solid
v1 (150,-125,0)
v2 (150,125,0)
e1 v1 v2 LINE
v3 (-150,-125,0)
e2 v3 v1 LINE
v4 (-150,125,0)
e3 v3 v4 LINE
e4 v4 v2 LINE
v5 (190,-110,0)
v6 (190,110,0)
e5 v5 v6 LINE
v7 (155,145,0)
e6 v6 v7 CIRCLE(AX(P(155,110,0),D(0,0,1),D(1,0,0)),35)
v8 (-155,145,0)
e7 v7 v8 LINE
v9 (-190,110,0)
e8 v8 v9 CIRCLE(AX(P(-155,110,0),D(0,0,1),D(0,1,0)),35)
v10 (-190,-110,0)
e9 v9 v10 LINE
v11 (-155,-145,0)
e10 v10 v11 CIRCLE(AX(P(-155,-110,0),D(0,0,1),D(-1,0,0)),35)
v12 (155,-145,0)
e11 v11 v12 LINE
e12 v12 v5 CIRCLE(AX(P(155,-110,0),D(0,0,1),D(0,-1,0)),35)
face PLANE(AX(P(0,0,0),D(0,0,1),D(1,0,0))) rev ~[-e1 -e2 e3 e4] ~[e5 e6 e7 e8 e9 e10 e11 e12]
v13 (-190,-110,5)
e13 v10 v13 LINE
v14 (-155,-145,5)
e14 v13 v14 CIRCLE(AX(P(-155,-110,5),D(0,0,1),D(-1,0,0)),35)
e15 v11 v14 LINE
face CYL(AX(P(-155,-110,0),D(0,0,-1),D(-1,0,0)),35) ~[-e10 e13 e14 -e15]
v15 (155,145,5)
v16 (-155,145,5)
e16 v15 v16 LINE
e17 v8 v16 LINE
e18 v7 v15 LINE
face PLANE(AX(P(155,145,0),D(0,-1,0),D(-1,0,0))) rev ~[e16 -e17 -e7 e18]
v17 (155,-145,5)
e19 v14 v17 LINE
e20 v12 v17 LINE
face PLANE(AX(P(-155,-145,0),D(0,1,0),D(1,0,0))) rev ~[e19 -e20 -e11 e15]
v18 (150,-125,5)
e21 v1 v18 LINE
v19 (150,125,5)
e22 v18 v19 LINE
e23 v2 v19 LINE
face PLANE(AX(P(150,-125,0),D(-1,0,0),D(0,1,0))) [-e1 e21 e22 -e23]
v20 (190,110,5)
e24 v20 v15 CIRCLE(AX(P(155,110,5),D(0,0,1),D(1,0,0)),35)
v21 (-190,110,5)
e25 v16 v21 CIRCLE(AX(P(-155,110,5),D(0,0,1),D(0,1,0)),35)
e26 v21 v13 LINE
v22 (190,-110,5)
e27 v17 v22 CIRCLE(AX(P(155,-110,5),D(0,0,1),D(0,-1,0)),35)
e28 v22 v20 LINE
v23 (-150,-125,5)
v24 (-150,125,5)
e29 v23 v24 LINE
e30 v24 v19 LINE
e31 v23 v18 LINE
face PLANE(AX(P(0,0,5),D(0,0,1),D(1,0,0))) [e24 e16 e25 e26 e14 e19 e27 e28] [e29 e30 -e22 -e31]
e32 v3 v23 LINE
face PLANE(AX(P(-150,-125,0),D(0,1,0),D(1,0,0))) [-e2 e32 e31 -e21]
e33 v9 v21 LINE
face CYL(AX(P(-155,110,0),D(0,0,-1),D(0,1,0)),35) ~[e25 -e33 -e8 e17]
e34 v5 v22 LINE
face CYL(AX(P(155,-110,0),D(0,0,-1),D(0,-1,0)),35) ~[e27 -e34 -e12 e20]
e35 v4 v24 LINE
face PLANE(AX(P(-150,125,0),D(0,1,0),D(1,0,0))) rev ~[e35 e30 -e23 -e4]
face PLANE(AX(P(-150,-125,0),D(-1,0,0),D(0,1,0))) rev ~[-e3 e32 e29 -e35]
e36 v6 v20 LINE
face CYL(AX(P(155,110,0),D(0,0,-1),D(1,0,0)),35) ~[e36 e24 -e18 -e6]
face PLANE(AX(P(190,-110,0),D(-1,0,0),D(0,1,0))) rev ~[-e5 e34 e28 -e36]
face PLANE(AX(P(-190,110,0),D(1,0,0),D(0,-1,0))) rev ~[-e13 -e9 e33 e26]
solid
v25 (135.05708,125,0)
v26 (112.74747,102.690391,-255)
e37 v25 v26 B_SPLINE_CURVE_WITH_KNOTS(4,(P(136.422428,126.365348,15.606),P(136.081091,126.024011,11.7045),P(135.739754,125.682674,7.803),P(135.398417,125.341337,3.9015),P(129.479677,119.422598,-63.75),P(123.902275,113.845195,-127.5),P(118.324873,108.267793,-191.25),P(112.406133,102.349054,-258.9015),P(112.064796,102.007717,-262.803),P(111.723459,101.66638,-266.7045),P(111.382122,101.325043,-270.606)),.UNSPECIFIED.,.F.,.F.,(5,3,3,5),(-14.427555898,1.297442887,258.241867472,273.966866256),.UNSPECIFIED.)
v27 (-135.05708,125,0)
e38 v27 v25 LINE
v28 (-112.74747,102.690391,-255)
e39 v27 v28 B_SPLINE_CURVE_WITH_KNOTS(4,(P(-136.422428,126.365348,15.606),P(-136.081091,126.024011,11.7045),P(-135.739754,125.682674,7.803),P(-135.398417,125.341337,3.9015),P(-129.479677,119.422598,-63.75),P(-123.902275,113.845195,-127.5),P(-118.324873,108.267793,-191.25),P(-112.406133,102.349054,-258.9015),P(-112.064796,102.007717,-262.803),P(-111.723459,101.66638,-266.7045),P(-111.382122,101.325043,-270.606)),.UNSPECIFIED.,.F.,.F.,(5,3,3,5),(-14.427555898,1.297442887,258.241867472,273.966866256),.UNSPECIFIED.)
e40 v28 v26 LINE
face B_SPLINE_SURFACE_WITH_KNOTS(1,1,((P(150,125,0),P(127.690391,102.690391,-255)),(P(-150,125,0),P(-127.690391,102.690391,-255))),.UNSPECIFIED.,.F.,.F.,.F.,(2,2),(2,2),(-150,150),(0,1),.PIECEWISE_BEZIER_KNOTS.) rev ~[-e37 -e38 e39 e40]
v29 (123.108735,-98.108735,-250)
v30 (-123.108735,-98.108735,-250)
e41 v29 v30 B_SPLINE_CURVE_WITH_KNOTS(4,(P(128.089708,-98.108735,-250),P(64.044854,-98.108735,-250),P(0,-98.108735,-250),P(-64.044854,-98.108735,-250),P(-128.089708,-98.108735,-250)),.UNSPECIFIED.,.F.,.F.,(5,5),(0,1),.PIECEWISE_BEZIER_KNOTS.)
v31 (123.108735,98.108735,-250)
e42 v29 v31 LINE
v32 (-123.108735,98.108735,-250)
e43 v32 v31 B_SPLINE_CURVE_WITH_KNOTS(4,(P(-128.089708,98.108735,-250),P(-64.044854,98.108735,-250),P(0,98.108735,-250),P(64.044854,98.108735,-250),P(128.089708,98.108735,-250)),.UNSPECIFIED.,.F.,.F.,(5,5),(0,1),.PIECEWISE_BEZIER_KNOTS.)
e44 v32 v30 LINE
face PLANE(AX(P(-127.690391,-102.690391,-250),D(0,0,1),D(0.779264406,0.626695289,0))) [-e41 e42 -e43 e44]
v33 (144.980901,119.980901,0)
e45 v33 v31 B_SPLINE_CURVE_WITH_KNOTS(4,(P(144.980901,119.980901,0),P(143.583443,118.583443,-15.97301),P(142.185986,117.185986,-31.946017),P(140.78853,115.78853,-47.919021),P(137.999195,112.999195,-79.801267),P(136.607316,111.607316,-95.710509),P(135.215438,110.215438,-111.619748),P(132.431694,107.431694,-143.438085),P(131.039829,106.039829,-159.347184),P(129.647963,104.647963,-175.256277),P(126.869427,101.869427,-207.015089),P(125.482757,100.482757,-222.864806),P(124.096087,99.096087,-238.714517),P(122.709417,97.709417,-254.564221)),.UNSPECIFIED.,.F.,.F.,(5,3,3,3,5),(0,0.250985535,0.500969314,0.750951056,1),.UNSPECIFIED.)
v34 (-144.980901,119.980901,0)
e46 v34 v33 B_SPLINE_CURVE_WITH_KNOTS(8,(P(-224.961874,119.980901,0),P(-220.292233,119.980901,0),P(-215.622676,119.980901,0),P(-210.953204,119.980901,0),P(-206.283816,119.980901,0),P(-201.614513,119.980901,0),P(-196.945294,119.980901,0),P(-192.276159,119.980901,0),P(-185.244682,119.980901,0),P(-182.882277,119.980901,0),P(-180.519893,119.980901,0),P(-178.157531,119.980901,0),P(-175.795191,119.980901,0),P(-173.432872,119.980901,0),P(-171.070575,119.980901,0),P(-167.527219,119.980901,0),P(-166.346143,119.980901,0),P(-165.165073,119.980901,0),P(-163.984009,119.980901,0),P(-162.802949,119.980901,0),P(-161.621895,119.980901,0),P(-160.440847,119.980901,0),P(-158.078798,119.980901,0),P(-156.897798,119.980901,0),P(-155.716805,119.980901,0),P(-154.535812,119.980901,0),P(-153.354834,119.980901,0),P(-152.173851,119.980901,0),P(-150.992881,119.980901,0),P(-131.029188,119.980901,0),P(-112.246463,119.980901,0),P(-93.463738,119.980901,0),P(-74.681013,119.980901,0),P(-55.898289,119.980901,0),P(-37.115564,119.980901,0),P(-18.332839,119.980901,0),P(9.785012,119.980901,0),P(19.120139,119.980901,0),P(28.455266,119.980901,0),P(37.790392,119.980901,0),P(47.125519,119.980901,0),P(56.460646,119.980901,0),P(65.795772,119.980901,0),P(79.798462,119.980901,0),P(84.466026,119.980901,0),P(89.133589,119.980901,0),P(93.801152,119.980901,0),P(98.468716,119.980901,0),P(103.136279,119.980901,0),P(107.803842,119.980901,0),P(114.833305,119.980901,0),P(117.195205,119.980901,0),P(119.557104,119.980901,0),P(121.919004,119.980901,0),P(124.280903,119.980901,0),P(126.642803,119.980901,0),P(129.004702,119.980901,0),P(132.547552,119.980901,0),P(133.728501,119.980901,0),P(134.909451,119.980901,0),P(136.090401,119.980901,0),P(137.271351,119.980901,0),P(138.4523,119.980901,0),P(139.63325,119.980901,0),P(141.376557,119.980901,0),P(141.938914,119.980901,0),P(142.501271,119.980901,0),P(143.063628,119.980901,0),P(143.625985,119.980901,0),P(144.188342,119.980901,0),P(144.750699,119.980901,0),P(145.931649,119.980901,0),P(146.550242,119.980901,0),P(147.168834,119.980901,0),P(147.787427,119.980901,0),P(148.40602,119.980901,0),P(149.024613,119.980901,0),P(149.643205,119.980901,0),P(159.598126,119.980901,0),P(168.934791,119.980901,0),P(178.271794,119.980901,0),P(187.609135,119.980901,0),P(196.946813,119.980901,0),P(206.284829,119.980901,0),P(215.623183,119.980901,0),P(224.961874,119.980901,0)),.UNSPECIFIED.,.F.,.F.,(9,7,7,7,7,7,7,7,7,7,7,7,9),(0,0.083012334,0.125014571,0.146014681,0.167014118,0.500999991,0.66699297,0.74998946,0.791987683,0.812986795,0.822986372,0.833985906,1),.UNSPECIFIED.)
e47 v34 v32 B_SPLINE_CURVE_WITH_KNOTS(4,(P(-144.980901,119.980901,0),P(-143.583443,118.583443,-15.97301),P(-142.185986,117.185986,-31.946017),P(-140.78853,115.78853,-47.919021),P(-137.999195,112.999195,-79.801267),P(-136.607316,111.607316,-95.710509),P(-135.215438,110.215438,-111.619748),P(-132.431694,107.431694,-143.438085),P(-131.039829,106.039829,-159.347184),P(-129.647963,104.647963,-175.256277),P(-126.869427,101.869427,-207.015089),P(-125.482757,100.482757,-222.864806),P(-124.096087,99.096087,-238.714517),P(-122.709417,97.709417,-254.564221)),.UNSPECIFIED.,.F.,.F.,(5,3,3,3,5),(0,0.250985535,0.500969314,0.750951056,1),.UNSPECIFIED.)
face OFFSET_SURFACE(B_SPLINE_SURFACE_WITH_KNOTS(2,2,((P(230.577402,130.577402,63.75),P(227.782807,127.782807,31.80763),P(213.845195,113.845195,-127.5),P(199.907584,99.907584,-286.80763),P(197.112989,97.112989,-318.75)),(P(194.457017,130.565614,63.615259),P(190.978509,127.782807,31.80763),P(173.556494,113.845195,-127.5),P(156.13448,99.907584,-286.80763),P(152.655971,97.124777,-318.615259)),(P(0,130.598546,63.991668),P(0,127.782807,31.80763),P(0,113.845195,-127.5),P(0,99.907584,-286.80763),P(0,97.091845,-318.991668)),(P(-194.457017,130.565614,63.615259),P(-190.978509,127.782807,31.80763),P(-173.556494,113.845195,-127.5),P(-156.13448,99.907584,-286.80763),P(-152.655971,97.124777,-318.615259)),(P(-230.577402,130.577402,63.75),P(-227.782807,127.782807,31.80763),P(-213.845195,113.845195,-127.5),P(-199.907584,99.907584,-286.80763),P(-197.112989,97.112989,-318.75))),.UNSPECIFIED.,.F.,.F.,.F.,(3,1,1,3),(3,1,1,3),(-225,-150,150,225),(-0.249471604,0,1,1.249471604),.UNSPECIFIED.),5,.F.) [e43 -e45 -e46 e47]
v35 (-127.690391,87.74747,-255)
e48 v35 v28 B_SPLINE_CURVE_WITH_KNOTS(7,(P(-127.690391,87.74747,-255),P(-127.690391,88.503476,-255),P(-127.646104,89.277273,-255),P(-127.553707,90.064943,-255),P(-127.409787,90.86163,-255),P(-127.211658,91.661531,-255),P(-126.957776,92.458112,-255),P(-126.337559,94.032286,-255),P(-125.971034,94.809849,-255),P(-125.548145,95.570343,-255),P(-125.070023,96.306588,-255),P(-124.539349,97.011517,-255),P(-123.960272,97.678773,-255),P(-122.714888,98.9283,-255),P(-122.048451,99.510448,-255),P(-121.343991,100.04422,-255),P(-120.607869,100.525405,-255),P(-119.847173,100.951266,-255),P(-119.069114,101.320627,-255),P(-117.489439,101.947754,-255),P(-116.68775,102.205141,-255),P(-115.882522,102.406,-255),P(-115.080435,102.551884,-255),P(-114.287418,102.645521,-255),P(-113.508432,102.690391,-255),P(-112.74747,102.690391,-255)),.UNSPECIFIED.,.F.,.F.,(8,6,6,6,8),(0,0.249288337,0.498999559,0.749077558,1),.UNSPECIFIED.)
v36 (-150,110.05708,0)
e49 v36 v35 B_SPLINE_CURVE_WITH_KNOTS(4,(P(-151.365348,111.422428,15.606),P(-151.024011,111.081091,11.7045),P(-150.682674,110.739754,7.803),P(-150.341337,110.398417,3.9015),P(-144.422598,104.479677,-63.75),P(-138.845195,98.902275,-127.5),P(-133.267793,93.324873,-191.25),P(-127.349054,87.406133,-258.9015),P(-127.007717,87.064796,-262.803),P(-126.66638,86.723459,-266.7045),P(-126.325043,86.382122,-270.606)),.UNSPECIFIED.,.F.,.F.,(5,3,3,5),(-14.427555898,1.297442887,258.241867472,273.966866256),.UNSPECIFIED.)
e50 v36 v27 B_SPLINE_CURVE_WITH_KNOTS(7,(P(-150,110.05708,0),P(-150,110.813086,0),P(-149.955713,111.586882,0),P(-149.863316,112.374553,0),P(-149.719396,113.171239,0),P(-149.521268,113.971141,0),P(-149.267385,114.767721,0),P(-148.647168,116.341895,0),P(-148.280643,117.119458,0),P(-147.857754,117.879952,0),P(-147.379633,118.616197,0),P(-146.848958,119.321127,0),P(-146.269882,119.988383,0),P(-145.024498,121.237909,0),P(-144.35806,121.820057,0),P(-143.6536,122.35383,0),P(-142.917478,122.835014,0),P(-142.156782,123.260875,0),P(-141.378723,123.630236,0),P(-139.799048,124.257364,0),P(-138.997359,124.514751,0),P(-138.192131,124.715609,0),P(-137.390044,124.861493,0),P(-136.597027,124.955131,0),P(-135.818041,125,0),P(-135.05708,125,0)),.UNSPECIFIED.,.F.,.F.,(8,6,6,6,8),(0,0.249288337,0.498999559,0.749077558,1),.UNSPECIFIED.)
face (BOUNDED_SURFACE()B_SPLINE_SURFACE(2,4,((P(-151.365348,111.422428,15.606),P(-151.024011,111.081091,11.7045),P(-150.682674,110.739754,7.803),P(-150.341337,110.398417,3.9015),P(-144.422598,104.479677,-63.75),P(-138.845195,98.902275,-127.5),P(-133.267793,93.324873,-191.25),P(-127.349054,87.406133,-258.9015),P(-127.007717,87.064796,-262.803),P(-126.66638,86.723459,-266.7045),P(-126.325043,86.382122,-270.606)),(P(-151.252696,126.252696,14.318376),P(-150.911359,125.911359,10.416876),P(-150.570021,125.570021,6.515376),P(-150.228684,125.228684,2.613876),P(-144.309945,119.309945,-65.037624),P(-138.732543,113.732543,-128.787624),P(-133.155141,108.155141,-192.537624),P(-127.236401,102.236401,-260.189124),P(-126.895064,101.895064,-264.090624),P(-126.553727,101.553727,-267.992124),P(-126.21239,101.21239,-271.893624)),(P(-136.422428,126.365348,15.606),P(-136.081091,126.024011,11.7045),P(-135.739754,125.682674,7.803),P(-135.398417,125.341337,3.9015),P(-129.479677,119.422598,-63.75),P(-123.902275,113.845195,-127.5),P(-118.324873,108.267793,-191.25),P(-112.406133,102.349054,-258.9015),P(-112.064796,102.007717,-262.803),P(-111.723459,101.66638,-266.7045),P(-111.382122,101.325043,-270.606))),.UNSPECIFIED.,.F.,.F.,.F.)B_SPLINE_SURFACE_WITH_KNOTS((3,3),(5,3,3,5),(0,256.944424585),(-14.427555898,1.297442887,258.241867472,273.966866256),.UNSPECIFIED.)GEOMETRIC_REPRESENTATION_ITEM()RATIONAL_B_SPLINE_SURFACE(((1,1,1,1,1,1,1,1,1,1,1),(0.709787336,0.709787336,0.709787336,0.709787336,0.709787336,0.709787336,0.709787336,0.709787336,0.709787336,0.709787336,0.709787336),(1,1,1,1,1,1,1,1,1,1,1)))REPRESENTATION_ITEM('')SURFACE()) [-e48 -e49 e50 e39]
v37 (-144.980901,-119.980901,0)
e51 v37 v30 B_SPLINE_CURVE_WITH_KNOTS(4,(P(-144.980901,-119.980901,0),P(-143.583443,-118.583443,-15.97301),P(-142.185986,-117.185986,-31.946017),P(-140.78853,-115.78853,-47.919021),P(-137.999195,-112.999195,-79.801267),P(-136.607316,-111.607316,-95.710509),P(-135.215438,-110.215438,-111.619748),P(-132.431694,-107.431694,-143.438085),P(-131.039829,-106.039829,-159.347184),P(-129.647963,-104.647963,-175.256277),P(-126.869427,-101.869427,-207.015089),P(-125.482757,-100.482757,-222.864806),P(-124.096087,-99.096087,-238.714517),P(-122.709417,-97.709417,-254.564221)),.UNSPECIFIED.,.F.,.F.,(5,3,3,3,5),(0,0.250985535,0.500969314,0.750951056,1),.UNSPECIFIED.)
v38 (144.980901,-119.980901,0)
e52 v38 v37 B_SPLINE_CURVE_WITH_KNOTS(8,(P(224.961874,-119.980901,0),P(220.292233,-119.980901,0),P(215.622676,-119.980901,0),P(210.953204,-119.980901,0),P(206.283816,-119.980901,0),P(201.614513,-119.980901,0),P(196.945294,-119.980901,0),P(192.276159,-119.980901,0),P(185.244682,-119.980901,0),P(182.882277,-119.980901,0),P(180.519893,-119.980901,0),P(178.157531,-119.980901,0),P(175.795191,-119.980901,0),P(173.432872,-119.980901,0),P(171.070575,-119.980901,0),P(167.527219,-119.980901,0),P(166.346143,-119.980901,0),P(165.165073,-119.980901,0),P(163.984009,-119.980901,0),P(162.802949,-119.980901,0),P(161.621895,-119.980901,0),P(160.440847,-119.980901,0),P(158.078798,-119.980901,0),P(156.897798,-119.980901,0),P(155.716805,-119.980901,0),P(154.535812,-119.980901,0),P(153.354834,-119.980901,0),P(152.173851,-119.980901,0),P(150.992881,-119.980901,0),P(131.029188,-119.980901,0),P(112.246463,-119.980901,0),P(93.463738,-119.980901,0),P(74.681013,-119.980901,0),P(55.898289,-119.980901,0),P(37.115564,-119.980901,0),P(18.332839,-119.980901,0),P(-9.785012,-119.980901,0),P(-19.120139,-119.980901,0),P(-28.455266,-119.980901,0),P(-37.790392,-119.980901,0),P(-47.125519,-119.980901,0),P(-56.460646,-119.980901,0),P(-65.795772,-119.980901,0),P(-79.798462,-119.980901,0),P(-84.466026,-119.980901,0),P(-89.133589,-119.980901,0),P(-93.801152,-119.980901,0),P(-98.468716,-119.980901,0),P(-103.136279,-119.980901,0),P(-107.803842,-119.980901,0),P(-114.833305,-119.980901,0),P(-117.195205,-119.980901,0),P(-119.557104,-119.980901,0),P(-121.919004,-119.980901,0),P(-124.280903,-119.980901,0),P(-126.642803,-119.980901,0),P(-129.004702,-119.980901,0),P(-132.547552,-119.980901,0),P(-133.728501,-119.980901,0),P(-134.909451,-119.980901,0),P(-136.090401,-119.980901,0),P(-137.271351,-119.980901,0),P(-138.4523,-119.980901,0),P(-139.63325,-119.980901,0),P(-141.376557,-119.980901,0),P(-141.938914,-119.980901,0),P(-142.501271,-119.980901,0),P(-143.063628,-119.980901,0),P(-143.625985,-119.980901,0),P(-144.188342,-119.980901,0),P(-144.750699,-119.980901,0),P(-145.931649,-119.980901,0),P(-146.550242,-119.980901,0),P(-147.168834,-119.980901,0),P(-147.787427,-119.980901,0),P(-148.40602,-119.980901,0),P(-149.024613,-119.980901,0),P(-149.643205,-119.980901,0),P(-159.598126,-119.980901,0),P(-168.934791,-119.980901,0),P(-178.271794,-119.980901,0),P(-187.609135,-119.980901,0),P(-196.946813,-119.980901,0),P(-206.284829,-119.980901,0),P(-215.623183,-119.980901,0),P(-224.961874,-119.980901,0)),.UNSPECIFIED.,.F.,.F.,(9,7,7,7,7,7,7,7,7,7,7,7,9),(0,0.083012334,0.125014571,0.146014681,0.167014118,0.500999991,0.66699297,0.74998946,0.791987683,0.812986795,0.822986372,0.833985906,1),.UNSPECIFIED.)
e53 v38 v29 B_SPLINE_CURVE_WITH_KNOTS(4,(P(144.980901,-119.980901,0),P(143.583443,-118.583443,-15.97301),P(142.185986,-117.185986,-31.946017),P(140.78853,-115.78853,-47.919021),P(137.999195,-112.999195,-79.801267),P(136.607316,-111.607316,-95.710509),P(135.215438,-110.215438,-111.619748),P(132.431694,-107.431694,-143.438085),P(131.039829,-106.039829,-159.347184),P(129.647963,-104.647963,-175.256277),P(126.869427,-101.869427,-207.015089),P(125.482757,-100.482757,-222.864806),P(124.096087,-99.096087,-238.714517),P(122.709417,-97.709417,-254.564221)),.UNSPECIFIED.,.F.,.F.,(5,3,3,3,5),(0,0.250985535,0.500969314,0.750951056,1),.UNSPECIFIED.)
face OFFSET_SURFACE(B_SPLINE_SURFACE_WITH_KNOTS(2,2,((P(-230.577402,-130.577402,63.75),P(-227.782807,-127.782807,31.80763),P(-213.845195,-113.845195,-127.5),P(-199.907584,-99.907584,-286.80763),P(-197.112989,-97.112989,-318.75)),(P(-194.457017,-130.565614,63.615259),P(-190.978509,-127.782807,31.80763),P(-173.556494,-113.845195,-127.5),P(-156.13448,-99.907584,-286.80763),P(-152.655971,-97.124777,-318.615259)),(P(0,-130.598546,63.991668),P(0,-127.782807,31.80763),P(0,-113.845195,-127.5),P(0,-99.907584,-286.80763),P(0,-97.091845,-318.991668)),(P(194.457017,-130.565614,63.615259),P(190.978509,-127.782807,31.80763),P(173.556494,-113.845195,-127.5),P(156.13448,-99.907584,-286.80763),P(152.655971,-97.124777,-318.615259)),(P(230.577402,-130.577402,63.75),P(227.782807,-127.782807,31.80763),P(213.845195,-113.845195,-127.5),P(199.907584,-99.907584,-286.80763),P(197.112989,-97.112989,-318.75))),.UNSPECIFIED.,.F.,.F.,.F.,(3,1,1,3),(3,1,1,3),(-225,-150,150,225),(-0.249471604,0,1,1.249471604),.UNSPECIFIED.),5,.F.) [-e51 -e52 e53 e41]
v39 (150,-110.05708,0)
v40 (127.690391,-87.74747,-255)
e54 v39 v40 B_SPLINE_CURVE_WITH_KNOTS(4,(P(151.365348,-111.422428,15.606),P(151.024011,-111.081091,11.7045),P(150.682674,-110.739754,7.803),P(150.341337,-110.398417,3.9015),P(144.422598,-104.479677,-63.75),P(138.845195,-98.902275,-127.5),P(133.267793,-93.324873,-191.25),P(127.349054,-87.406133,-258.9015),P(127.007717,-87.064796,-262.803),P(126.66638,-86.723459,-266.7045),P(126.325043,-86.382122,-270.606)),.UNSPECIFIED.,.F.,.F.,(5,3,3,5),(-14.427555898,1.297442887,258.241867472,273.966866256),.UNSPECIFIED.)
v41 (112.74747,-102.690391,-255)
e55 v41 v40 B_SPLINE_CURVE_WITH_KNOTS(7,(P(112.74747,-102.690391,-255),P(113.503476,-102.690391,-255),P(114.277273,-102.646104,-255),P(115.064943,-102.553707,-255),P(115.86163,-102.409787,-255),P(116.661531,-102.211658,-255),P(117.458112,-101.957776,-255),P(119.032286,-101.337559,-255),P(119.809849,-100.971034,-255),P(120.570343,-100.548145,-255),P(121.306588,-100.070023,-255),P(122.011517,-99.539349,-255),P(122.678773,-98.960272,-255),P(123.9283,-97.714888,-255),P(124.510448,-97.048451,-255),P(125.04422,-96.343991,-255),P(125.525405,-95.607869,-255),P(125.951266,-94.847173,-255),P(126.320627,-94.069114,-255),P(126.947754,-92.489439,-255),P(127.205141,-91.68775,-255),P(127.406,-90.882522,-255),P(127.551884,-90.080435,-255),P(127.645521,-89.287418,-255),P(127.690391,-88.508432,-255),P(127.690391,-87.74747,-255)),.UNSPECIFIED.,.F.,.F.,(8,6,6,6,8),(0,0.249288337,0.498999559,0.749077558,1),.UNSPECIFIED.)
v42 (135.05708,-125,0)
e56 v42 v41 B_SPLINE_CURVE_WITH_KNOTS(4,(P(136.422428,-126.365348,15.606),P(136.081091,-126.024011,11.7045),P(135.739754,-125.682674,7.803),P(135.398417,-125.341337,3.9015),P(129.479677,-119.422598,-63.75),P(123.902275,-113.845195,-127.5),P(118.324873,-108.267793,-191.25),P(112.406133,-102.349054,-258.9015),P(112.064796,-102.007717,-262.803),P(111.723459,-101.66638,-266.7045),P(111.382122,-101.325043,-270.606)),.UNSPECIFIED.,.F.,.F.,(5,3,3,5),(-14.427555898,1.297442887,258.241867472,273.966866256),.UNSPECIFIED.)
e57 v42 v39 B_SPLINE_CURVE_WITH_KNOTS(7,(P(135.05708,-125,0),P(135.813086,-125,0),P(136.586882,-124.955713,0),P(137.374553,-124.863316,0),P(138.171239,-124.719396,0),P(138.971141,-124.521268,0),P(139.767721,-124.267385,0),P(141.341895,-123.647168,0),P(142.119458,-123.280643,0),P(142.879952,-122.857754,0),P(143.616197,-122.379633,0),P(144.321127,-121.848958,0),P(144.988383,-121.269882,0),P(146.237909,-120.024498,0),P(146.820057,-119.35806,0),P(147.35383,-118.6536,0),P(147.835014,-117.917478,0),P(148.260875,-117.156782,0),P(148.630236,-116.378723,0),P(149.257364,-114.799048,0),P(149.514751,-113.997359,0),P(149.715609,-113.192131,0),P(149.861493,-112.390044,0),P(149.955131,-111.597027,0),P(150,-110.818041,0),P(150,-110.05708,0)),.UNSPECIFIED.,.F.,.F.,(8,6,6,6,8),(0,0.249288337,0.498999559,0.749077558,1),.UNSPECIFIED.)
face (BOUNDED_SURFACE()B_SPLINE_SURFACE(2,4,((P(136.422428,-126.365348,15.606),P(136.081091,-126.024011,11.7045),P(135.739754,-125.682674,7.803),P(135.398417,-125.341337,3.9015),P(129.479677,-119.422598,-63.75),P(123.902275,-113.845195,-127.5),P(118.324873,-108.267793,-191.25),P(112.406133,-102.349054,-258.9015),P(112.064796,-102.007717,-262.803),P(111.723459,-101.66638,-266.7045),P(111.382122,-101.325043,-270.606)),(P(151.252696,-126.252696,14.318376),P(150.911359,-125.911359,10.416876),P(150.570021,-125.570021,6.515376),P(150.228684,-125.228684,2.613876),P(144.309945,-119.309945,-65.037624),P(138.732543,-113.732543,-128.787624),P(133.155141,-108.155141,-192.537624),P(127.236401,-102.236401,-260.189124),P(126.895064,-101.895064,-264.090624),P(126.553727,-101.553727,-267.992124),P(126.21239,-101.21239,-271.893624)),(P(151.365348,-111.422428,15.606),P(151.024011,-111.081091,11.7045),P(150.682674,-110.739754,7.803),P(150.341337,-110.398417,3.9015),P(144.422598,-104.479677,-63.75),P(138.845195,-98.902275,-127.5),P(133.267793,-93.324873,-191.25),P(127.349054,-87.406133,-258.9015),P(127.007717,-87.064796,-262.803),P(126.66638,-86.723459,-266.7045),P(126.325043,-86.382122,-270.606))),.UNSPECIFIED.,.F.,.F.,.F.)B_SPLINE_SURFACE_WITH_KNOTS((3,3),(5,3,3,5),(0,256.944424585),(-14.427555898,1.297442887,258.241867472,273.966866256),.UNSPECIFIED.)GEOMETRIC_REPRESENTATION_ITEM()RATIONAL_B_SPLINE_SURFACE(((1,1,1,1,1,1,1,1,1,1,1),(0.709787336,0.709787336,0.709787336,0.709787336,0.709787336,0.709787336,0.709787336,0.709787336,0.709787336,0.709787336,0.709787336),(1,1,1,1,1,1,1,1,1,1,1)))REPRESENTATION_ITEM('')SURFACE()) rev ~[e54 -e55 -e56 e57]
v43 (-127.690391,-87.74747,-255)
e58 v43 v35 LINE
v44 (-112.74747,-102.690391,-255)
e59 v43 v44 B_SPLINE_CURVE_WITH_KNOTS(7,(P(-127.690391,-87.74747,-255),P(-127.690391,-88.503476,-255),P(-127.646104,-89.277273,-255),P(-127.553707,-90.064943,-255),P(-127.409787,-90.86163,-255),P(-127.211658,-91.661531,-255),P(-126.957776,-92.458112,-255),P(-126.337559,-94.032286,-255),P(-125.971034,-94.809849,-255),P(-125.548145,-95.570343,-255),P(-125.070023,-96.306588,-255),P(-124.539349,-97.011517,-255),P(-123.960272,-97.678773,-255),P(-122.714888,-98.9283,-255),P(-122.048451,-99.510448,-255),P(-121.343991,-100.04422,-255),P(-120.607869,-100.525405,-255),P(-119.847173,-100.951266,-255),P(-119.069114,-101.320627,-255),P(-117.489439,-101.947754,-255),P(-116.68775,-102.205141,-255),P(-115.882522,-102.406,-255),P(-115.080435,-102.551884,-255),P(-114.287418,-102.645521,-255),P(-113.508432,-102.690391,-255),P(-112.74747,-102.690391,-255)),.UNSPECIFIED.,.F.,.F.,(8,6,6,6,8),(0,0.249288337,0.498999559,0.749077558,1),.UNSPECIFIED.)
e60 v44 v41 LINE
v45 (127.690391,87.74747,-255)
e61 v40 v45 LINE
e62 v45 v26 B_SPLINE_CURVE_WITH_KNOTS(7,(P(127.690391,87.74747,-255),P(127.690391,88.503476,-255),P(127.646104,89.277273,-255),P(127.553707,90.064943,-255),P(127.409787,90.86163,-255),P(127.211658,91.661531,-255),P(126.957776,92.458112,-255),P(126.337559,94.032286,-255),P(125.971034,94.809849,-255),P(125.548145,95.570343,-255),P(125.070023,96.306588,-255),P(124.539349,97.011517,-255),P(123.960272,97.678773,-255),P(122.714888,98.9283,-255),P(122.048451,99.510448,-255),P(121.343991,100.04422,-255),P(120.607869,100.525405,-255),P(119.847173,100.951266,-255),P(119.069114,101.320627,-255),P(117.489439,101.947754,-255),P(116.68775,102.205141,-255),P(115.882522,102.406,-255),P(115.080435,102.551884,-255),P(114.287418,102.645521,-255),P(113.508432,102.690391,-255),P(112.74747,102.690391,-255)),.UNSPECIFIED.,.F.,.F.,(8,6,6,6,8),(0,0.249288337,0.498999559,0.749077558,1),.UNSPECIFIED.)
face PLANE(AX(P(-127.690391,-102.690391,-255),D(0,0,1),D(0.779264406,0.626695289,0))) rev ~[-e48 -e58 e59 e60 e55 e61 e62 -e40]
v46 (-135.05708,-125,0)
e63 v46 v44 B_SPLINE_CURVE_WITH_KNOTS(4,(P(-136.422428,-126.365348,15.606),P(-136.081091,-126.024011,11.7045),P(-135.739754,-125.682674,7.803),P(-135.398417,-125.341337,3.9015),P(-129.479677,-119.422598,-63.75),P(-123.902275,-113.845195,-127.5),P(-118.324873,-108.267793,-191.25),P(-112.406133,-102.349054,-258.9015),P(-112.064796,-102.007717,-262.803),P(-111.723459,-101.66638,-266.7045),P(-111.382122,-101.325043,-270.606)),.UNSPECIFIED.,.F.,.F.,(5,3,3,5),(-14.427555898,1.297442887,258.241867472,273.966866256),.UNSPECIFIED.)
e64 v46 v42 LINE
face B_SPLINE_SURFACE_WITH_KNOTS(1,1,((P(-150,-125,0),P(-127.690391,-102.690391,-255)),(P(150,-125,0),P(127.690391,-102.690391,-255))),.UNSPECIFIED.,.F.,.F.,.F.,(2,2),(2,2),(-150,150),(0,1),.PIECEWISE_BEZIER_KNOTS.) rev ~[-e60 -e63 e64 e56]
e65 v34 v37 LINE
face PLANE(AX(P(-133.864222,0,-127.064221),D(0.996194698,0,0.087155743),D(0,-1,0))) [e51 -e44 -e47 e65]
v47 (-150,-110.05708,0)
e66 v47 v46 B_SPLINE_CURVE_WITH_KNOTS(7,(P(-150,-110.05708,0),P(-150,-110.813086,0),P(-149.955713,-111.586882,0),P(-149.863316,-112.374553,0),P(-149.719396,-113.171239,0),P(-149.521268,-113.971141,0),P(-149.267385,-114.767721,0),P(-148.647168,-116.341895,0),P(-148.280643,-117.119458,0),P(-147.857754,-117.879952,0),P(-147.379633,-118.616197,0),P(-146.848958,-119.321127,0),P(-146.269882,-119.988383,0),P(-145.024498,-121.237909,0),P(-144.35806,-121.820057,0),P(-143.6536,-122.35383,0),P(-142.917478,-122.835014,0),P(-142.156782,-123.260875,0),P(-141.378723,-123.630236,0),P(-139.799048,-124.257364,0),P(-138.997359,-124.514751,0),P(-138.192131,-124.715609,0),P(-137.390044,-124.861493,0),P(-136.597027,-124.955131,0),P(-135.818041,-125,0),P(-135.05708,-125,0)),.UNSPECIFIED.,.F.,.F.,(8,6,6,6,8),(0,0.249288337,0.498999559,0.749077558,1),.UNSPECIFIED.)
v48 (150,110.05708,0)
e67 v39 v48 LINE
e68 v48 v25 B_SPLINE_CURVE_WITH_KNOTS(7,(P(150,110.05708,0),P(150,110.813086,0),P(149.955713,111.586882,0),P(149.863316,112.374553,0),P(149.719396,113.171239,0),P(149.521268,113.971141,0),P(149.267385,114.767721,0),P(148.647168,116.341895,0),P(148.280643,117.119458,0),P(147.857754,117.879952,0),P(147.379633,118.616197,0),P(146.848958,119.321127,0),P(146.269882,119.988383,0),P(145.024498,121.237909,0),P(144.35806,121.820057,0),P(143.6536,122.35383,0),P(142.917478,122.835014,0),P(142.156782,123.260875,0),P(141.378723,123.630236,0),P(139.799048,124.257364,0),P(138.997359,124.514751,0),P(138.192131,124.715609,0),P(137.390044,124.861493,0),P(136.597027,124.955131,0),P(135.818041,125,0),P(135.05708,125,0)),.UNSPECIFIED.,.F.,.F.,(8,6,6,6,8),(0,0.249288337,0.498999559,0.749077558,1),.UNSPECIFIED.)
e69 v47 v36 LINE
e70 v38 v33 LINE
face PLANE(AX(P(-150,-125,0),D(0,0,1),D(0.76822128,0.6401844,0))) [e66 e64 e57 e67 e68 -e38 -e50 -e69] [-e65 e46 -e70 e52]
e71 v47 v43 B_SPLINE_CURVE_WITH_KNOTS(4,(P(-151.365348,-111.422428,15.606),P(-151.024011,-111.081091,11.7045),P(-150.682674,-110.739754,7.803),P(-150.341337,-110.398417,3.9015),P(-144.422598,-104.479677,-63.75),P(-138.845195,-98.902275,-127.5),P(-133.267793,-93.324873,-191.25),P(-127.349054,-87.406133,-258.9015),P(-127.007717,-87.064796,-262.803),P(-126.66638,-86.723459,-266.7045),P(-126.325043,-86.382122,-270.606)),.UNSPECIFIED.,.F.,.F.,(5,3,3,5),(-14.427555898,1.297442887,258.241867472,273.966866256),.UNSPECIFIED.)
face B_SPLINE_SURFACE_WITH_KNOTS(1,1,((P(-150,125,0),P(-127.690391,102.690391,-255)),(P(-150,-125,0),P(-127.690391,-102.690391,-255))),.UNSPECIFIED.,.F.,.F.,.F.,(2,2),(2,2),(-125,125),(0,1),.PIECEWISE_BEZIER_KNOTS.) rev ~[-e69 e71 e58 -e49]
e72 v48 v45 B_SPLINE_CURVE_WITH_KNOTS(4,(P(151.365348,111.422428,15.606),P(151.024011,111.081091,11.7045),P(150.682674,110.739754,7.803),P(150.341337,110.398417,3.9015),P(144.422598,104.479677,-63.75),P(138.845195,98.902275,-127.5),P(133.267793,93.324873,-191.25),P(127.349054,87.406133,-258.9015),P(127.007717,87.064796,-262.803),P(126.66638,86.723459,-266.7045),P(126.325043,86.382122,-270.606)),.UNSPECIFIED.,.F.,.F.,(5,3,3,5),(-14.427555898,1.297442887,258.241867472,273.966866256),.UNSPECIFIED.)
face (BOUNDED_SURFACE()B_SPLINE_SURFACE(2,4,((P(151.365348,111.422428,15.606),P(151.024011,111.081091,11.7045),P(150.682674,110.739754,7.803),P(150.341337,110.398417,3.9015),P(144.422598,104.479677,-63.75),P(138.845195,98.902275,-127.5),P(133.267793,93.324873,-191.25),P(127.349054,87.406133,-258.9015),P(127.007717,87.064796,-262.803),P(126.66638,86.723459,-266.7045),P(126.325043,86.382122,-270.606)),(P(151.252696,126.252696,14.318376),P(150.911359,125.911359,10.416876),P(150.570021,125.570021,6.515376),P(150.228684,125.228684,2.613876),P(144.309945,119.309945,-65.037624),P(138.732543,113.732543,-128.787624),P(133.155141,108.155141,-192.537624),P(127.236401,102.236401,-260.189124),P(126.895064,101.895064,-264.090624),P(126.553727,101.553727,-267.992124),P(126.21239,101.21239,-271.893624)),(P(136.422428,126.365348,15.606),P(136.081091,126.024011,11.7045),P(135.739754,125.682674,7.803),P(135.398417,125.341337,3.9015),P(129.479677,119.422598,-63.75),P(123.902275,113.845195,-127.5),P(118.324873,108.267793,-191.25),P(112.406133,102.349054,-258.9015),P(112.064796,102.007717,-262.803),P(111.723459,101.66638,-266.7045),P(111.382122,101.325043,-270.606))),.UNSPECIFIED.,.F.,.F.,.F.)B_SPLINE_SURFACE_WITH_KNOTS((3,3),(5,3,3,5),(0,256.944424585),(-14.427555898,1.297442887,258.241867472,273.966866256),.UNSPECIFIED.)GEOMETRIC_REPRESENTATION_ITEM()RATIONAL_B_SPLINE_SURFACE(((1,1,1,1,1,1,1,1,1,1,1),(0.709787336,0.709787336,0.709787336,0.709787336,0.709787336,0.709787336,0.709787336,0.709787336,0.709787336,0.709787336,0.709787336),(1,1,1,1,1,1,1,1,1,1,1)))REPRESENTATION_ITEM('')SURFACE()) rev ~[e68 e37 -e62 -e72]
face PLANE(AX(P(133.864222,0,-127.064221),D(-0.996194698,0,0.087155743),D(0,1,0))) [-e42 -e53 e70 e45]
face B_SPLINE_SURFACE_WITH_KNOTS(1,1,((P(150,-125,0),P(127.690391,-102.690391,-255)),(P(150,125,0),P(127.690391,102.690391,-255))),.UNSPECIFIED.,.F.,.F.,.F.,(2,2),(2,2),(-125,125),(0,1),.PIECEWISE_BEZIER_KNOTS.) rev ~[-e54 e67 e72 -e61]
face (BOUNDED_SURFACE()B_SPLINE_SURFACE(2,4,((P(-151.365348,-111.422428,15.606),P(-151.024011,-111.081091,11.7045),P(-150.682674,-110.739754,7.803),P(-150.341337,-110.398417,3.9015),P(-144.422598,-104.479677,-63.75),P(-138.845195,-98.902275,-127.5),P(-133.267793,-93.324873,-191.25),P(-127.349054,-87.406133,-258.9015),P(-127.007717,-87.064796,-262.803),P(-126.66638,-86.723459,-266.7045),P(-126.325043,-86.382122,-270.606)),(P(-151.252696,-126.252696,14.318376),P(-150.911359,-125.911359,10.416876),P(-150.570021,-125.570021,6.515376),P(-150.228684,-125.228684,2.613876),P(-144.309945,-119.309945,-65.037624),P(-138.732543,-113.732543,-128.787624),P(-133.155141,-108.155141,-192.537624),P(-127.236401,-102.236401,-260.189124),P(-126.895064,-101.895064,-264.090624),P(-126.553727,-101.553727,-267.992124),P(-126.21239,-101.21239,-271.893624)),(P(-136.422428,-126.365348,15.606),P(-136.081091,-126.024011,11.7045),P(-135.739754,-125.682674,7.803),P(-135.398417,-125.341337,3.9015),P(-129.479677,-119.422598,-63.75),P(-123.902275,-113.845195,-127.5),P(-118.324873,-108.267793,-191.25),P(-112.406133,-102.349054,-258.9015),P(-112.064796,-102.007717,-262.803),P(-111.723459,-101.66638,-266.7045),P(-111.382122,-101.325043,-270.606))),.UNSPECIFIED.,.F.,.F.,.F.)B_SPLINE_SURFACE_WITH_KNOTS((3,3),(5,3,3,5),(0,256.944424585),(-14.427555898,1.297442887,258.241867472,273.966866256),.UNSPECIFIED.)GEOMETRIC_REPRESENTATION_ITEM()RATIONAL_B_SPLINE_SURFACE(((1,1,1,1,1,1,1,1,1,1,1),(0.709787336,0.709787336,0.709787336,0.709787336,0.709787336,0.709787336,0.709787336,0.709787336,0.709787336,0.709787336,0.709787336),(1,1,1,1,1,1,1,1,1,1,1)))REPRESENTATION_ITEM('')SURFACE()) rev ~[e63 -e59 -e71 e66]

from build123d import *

# Parameters (mm, degrees)
F0_W     = 300
F0_H     = 250
F1_DEPTH = 255
F1_TAPER = 5
F2_T     = -5
F3_W     = 300
F3_H     = 250
F4_DEPTH = 5
F5_R     = 15


with BuildPart() as f1:
    # F0 (on Top) → F1 (new body)
    with BuildSketch(Plane.XY):
        Rectangle(F0_W, F0_H)
    extrude(amount=-F1_DEPTH, taper=F1_TAPER)

    # F2
    f2_openings = [f1.faces().sort_by_distance(p)[0] for p in [
        (0, 0, 0),
    ]]
    offset(amount=F2_T, openings=f2_openings)

    # F5
    f5_edges = [f1.edges().sort_by_distance(p)[0] for p in [
        (-138.845195, 113.845195, -127.5),
        (-138.845195, -113.845195, -127.5),
        (138.845195, -113.845195, -127.5),
        (138.845195, 113.845195, -127.5),
    ]]
    fillet(f5_edges, radius=F5_R)


with BuildPart() as f4:
    # F3 (on face) → F4 (new body)
    with BuildSketch(Plane.XY):
        with BuildLine():
            ThreePointArc((190, 110), (179.7487373415, 134.7487373415), (155, 145))
            Line((155, 145), (-155, 145))
            ThreePointArc((-155, 145), (-179.7487373415, 134.7487373415), (-190, 110))
            Line((-190, 110), (-190, -110))
            ThreePointArc((-190, -110), (-179.7487373415, -134.7487373415), (-155, -145))
            Line((-155, -145), (155, -145))
            ThreePointArc((155, -145), (179.7487373415, -134.7487373415), (190, -110))
            Line((190, -110), (190, 110))
        make_face()
        Rectangle(F3_W, F3_H, mode=Mode.SUBTRACT)
    extrude(amount=F4_DEPTH)


solid = Compound([f1.part, f4.part])
